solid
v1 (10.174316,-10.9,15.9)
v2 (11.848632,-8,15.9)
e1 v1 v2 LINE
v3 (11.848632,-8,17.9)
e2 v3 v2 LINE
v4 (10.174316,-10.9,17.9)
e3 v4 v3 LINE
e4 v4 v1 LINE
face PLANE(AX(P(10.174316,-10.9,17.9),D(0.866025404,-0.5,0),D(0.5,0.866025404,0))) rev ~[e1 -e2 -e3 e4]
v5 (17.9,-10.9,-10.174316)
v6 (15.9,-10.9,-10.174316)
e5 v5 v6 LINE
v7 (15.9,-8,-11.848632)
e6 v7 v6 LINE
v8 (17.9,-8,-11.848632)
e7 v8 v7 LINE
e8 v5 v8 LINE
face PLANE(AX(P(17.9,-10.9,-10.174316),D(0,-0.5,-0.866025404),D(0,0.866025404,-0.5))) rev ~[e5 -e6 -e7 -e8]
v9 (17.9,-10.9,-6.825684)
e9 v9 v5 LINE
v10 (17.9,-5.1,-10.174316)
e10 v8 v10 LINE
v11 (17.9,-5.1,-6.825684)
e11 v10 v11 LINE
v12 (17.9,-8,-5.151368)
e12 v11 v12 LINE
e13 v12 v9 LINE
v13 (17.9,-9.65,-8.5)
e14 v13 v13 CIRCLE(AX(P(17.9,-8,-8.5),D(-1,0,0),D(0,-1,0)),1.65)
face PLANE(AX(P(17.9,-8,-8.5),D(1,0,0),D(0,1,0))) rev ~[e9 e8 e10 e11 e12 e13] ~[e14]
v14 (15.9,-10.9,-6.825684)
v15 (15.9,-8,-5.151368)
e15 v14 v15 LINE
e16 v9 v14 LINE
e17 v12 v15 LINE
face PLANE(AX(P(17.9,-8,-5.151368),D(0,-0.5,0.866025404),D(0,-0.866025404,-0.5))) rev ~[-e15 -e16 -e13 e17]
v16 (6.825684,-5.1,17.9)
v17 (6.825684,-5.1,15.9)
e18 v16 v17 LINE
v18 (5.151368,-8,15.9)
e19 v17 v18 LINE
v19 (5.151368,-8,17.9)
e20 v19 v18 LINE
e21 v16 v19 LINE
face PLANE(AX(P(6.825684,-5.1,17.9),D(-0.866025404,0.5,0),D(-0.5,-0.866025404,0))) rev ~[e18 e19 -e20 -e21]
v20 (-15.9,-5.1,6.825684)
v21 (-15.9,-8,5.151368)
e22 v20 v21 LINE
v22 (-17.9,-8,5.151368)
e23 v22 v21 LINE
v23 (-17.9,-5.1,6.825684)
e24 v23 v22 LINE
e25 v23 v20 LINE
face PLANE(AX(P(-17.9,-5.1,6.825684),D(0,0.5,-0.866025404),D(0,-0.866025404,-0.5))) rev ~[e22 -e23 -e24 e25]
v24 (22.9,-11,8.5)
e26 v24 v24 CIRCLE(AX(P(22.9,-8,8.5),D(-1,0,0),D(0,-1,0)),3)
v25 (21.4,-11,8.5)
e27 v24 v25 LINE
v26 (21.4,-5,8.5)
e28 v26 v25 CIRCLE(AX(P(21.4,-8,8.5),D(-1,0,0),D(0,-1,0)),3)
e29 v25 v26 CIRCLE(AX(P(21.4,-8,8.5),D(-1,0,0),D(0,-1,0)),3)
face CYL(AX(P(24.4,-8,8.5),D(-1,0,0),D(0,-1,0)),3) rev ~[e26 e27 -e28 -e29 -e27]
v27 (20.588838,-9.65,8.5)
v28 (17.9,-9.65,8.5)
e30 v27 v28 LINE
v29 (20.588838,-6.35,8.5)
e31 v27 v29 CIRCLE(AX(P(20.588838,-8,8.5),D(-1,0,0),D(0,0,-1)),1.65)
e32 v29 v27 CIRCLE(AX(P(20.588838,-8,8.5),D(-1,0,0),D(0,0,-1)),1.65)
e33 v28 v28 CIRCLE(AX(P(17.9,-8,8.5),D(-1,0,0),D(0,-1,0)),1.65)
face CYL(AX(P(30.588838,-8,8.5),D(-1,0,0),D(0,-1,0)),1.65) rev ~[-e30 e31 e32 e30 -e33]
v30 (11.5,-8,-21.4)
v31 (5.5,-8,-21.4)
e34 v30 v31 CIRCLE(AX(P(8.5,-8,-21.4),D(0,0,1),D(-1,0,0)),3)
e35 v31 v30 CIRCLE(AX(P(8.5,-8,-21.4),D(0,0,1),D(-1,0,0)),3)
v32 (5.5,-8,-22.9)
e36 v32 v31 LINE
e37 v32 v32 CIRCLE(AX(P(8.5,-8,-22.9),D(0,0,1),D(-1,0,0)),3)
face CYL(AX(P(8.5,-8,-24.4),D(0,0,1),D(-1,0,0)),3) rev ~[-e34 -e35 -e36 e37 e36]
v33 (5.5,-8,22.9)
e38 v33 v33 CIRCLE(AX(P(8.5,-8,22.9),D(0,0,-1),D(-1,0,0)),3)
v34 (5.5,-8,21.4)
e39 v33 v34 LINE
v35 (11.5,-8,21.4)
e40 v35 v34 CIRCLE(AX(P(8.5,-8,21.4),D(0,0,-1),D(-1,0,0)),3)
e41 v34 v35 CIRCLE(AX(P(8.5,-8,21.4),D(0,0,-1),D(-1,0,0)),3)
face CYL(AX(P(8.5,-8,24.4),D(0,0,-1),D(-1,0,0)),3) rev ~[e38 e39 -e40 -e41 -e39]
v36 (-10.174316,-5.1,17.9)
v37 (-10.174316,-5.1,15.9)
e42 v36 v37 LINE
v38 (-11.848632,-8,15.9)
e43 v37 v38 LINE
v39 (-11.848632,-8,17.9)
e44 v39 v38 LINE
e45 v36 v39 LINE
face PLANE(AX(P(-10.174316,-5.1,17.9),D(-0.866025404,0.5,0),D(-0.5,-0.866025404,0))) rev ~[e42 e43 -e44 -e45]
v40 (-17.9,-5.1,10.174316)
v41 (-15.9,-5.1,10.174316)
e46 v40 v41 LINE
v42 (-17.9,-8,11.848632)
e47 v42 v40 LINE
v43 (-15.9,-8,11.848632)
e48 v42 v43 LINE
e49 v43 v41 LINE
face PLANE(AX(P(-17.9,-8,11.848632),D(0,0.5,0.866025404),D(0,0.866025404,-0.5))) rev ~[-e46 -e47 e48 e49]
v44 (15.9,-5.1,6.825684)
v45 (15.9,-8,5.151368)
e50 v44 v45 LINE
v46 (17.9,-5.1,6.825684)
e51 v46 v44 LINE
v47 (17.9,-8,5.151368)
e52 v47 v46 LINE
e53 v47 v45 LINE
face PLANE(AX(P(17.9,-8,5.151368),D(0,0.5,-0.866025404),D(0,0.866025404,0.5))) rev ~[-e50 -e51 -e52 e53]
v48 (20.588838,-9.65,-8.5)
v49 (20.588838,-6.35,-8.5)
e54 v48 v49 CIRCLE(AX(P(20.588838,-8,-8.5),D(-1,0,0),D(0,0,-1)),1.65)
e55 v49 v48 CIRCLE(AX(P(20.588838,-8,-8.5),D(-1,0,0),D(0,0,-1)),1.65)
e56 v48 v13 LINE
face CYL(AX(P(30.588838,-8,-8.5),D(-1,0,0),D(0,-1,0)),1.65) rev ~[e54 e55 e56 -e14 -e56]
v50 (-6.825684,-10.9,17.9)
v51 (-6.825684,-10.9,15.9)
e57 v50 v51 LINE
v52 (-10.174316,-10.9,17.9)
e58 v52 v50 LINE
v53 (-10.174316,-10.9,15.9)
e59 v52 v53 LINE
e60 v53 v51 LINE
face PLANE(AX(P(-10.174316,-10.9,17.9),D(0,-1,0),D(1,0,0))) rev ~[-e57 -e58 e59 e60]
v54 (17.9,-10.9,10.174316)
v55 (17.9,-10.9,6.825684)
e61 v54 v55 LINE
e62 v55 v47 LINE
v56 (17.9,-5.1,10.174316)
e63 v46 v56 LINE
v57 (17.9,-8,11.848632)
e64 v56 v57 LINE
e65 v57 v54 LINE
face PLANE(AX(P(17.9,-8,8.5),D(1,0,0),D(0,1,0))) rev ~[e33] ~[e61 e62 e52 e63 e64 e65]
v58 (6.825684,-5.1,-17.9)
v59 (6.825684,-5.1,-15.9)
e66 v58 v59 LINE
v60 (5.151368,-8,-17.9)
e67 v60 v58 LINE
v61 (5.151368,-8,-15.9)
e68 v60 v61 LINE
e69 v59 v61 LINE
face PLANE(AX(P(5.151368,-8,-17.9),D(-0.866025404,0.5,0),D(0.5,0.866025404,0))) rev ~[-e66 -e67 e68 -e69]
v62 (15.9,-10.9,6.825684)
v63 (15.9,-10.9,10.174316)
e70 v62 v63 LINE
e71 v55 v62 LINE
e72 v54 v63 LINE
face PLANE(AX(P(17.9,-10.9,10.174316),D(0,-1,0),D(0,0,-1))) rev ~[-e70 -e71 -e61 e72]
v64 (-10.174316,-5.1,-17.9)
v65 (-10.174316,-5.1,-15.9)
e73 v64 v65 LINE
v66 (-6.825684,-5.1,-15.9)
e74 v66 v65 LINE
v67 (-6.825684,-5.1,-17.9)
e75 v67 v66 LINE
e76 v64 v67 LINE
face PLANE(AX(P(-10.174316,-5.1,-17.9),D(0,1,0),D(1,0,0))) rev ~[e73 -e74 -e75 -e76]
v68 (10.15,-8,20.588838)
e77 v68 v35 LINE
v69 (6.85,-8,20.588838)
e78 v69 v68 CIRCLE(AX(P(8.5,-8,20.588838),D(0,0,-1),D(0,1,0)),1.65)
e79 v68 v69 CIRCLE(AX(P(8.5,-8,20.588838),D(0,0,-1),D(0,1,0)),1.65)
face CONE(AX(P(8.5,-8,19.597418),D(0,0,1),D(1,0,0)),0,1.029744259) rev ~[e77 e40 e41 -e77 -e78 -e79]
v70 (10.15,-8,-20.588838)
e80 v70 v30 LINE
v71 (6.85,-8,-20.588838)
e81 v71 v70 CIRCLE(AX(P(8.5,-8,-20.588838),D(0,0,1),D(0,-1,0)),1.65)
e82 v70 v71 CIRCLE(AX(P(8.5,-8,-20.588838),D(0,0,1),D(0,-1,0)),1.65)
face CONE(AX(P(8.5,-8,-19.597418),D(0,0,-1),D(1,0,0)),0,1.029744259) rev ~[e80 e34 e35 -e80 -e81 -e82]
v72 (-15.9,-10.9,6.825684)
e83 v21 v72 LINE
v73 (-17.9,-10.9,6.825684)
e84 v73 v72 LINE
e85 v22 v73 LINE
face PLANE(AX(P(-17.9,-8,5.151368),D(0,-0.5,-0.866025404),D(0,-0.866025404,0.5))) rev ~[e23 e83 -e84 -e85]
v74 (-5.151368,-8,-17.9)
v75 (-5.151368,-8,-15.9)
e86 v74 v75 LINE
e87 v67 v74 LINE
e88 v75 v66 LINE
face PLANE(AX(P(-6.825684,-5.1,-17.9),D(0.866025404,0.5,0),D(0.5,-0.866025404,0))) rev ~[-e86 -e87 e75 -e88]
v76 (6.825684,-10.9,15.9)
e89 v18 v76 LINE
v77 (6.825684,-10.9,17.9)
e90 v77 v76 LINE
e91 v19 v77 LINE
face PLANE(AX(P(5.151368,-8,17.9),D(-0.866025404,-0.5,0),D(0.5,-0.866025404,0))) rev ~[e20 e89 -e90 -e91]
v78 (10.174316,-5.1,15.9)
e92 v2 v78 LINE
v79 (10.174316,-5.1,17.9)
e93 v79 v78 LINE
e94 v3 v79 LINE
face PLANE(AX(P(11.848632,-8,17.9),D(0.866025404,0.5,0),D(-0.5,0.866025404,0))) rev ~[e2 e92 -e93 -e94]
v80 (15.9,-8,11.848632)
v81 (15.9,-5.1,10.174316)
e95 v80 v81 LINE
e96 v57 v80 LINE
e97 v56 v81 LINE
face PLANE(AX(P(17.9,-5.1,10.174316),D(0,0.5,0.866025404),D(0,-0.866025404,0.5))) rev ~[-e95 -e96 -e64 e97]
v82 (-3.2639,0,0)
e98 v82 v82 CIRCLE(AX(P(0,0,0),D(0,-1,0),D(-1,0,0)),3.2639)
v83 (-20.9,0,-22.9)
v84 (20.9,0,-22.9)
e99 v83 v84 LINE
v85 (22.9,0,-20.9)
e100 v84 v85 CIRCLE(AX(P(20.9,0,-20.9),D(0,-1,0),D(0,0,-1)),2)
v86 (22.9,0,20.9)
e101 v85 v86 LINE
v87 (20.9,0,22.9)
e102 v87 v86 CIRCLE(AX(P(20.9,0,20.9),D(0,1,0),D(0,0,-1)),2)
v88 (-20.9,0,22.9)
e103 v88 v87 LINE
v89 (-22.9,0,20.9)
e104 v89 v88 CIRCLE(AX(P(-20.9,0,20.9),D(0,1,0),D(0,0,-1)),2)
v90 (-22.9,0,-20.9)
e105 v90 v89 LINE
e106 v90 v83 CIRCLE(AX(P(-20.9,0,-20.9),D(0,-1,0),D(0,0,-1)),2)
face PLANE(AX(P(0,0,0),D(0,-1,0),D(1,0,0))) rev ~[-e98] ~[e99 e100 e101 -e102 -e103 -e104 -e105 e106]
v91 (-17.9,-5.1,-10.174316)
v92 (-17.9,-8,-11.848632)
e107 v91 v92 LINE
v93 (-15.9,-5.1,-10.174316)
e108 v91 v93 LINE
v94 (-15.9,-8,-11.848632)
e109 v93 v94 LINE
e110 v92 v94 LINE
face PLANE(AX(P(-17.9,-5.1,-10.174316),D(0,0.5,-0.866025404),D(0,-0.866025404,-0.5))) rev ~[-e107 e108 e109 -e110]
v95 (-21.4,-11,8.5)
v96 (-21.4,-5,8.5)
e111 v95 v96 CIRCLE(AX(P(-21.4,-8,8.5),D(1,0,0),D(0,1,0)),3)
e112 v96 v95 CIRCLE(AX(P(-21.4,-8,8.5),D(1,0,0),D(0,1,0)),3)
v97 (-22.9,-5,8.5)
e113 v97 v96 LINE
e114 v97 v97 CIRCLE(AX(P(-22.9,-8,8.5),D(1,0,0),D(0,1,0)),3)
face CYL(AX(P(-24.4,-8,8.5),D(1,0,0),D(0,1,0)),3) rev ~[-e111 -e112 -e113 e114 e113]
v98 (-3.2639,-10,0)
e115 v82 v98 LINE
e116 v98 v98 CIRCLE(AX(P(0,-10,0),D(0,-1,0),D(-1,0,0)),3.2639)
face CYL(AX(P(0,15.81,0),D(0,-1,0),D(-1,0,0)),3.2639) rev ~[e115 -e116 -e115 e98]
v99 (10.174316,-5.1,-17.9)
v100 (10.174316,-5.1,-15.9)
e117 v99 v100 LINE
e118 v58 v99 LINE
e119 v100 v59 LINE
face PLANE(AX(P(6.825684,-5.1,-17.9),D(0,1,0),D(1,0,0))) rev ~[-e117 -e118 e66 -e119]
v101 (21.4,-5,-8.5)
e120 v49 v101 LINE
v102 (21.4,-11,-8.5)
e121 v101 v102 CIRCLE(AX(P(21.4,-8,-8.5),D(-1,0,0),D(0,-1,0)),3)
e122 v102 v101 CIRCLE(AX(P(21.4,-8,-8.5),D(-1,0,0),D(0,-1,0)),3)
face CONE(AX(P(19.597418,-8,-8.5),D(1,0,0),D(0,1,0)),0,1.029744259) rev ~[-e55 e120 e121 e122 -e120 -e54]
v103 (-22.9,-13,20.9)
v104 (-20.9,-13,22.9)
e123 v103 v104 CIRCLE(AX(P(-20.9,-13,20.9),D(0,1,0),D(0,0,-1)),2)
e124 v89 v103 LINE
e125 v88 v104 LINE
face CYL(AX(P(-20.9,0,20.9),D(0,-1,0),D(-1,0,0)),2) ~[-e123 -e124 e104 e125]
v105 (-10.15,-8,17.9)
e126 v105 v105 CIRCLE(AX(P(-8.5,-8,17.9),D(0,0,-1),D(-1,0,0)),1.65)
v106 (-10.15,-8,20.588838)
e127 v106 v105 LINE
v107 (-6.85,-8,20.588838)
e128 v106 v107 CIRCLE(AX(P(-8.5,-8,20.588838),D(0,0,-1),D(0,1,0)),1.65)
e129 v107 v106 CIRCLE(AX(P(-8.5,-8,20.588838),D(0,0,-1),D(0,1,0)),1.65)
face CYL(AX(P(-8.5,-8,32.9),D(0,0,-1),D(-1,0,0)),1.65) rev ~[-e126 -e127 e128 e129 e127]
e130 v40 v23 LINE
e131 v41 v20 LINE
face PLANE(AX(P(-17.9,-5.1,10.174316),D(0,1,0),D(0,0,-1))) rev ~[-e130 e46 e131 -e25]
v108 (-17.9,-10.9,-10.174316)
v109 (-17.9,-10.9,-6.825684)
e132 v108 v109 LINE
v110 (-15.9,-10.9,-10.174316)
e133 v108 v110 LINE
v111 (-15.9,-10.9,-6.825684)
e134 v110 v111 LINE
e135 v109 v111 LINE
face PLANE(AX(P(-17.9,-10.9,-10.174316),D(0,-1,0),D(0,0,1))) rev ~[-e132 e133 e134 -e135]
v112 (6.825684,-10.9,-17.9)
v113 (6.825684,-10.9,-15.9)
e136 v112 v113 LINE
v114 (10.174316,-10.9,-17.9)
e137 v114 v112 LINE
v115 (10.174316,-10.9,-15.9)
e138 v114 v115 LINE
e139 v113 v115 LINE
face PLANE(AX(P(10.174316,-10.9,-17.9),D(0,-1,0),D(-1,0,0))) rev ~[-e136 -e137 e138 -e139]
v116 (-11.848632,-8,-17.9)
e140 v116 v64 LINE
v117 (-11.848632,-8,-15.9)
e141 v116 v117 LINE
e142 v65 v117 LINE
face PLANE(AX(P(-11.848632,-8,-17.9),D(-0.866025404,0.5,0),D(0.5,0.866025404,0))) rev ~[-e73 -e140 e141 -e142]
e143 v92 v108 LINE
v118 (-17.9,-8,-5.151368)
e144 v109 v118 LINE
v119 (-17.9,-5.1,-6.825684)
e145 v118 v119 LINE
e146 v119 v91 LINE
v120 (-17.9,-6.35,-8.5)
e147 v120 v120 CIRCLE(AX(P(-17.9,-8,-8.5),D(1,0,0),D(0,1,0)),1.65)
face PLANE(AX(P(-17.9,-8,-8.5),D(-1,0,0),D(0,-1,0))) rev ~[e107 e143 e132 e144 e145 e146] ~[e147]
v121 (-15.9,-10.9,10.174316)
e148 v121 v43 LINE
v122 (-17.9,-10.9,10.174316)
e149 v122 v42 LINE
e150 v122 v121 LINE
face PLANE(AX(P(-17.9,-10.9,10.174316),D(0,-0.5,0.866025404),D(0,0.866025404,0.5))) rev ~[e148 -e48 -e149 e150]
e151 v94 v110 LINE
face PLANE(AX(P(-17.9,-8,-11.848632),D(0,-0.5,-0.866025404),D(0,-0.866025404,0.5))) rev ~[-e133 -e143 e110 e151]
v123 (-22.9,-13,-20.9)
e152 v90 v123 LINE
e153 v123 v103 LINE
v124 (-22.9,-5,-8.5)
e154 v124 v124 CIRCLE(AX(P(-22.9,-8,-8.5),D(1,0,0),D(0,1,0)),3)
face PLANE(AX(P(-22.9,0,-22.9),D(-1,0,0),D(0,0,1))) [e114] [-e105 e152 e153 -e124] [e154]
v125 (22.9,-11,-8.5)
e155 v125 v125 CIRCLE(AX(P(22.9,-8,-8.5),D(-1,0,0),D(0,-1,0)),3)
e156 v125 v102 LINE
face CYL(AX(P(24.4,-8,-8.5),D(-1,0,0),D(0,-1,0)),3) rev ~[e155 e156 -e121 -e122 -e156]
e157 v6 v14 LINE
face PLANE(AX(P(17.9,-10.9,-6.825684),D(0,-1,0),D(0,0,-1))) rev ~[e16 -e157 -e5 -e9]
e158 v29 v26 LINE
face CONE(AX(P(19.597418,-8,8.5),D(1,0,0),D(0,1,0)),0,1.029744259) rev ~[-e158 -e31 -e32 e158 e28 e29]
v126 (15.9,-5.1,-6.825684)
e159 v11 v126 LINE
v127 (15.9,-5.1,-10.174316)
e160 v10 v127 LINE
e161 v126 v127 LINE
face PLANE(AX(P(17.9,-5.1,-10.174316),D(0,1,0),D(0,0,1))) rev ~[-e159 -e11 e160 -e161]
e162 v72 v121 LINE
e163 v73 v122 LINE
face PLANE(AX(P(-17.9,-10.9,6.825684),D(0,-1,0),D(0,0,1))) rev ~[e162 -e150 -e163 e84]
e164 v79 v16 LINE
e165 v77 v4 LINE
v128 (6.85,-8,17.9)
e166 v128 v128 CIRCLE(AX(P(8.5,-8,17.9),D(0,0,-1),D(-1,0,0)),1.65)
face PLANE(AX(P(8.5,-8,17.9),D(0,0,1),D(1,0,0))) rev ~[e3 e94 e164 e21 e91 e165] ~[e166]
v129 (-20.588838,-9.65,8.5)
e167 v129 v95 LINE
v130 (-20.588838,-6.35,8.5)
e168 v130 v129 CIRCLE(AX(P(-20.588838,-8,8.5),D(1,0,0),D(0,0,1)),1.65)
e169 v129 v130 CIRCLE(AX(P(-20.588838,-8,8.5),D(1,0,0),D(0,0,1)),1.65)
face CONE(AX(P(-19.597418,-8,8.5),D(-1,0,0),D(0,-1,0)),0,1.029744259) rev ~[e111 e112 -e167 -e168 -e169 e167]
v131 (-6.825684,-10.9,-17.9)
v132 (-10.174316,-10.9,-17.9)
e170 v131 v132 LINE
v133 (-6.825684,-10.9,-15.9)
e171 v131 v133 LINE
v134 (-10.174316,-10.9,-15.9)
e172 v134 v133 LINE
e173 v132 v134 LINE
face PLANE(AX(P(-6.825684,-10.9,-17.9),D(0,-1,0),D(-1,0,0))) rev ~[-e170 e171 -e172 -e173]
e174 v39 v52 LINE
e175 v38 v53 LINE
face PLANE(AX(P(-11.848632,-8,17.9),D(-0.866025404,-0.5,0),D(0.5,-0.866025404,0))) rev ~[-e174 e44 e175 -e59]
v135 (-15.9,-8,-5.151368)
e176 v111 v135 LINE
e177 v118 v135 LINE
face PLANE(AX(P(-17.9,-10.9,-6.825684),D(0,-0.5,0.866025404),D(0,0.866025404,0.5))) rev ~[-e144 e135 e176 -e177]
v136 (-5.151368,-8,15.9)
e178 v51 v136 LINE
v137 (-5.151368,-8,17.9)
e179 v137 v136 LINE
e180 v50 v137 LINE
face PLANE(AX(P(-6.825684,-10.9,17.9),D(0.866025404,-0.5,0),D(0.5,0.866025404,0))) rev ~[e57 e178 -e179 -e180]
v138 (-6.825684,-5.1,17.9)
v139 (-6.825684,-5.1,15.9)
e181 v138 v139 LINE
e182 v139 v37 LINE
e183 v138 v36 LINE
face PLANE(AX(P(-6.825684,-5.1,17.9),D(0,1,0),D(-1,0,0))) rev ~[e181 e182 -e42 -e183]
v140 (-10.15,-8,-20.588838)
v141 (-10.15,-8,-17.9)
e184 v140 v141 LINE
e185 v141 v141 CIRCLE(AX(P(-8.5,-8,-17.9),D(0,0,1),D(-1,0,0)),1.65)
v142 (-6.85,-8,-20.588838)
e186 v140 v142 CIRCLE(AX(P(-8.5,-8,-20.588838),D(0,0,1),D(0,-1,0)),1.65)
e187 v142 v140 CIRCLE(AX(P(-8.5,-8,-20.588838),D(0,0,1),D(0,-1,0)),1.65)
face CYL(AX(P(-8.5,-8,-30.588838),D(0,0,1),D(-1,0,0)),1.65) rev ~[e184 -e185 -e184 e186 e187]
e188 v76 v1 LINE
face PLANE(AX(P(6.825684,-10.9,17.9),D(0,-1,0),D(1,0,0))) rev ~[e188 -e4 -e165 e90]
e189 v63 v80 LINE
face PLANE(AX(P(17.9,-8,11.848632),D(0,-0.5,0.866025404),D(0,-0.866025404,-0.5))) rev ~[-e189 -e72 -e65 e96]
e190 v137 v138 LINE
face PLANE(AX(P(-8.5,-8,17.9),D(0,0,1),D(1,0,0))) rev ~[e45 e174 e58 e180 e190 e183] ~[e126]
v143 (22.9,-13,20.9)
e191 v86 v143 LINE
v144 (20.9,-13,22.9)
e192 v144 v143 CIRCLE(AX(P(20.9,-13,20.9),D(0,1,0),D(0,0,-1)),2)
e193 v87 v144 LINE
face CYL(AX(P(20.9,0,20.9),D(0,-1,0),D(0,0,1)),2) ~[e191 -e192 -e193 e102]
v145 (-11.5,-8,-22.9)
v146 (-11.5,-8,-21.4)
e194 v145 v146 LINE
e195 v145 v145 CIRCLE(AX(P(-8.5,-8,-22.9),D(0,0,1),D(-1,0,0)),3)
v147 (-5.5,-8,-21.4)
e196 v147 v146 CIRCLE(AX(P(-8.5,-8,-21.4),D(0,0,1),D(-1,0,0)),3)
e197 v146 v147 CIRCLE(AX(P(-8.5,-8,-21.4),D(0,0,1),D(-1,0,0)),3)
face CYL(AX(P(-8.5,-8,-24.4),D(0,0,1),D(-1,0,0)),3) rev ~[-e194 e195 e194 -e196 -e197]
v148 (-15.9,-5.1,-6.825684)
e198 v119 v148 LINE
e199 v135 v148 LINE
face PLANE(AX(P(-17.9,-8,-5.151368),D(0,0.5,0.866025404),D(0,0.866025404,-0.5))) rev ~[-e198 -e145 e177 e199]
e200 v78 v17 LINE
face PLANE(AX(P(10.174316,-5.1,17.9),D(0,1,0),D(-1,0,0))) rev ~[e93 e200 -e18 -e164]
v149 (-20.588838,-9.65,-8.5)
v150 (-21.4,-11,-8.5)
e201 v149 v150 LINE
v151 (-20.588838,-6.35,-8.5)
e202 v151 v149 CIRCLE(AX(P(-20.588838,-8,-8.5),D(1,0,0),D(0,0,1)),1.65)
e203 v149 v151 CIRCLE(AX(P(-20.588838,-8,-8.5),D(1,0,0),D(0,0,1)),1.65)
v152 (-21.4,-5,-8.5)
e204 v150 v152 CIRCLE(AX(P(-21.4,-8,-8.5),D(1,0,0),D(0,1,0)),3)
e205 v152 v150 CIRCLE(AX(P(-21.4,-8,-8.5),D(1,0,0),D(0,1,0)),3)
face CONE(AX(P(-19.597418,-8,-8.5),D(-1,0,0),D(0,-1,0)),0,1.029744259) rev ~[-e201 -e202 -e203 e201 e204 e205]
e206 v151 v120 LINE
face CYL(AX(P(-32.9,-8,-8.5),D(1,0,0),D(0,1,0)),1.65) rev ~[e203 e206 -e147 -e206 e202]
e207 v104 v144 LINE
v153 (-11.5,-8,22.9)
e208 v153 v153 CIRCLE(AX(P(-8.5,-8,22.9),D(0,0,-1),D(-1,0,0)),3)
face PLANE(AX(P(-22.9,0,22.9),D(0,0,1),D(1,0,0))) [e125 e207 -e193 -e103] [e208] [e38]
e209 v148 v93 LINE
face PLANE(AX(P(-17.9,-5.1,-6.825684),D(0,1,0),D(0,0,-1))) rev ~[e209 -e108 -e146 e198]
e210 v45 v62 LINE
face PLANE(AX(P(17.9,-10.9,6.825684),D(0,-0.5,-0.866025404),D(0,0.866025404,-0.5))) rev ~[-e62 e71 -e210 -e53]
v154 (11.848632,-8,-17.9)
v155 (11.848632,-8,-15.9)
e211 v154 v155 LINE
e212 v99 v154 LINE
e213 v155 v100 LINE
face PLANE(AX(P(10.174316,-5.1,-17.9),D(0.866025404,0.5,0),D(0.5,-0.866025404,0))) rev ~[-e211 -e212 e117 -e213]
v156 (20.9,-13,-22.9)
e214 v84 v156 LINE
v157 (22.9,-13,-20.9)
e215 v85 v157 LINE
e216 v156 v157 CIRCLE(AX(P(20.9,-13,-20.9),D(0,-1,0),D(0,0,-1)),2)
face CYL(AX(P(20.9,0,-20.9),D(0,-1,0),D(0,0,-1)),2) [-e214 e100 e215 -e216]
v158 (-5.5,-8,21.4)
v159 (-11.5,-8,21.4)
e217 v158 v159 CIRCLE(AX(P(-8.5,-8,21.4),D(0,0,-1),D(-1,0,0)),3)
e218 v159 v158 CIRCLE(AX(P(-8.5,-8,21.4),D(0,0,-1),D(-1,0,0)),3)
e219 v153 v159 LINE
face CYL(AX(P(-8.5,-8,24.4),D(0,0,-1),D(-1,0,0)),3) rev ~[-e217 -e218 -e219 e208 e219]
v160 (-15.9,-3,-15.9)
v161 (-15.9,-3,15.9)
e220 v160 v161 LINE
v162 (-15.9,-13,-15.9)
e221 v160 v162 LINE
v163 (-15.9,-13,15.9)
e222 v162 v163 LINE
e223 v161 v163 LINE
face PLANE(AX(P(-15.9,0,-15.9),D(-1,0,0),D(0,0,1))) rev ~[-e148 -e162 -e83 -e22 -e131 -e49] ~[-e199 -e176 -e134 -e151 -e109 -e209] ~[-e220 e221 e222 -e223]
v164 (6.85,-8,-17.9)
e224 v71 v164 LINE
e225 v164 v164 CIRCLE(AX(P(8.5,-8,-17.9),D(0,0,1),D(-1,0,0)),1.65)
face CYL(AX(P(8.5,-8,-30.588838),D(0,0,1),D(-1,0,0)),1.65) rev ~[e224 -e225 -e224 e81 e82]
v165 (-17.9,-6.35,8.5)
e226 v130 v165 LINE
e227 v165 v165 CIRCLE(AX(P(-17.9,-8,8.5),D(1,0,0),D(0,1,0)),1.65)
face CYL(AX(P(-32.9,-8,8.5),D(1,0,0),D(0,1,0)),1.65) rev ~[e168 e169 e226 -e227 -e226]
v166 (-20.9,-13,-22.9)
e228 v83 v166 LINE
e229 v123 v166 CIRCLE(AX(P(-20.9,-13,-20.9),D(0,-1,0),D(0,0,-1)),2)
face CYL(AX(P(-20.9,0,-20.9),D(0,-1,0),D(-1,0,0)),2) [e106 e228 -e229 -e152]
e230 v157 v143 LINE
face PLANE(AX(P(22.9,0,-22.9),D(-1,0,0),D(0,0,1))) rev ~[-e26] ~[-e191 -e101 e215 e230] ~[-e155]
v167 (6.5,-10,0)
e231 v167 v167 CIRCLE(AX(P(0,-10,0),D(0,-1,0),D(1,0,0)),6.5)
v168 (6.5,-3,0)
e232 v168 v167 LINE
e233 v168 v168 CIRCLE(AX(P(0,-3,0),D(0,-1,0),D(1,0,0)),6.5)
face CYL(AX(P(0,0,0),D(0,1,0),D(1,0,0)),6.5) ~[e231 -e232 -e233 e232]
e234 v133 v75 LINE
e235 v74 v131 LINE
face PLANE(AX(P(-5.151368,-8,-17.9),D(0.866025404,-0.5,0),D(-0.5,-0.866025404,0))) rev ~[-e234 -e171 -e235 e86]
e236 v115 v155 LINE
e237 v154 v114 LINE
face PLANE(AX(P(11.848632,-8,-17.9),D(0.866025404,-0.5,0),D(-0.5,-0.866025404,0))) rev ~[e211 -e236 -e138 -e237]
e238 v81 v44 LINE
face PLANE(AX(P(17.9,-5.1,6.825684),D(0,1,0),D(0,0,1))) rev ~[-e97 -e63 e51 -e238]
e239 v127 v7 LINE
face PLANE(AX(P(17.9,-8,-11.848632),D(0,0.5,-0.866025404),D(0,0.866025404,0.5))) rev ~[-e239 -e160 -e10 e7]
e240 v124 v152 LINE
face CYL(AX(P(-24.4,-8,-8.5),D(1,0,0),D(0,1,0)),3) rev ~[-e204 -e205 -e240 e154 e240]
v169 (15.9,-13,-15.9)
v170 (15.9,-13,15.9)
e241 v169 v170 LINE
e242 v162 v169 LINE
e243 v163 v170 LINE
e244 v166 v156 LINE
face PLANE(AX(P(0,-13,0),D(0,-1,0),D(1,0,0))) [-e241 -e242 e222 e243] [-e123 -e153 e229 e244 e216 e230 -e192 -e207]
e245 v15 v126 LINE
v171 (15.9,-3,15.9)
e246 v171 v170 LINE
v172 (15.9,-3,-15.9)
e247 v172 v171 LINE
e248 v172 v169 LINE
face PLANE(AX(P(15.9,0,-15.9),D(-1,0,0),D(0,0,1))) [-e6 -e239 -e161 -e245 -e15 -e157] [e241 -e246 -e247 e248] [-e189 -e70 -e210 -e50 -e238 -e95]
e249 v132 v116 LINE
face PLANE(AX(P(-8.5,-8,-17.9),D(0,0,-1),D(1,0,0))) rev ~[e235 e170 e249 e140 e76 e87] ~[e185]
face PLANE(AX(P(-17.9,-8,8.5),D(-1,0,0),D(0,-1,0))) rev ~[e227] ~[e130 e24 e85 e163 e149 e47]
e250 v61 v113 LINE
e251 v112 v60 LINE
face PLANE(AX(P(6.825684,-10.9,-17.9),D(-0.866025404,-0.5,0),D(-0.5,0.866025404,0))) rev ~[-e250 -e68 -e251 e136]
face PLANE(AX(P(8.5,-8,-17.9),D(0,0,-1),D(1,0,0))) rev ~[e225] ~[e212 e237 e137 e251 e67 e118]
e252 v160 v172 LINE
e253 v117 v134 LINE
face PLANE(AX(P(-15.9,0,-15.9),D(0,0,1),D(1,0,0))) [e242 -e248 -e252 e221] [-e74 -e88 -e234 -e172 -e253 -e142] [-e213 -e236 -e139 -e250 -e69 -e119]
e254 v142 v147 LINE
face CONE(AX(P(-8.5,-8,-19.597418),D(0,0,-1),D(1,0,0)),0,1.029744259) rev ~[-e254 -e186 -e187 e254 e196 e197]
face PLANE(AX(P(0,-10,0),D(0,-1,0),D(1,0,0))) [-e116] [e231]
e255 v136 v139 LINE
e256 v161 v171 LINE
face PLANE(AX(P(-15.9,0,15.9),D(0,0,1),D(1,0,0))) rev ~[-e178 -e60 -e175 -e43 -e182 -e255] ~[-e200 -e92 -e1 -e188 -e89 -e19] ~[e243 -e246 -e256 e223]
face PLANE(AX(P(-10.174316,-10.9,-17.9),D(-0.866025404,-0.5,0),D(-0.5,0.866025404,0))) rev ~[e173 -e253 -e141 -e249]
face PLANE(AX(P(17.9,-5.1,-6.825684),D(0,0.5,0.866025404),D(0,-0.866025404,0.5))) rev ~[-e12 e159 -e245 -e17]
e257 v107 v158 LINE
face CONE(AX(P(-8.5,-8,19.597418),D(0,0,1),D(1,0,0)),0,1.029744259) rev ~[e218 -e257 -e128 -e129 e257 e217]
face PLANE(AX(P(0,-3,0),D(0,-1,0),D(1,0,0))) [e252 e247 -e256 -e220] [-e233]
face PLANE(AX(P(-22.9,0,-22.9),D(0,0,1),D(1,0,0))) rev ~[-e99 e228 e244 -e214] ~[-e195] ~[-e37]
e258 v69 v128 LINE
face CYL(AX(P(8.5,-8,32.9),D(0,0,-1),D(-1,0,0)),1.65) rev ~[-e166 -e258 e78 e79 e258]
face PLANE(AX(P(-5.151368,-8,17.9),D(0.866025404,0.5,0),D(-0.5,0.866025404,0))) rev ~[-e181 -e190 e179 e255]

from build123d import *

# Parameters (mm, degrees)
F0_W      = 31.8
F0_H      = 31.8
F0_R      = 6.5
F1_DEPTH  = 3
F2_DEPTH  = 10
F0_W_2    = 45.8
F0_H_2    = 45.8
F3_DEPTH  = 13
F5_START  = -5
F5_DEPTH  = 3
F6_D      = 6
F6_DEPTH  = 1.5
F6_TIP    = 1.8025818571
F7_D      = 3.3
F7_DEPTH  = 10
F7_START  = 2.3111618
F7_TIP    = 0.9914200214
F9_START  = -5
F9_DEPTH  = 3
F11_START = -5
F11_DEPTH = 3
F12_D     = 3.3
F12_DEPTH = 10
F12_TIP   = 0.9914200214
F13_D     = 6
F13_DEPTH = 1.5
F13_TIP   = 1.8025818571
F14_D     = 6
F14_DEPTH = 1.5
F14_TIP   = 1.8025818571
F15_D     = 3.3
F15_DEPTH = 10
F15_START = 2.3111618
F15_TIP   = 0.9914200214
F17_START = -5
F17_DEPTH = 3
F18_D     = 3.3
F18_DEPTH = 10
F18_TIP   = 0.9914200214
F19_D     = 6
F19_DEPTH = 1.5
F19_TIP   = 1.8025818571
F20_R     = 2
F21_D     = 6.5278
F21_DEPTH = 15.81
F21_TIP   = 1.9611489744


with BuildPart() as f1:
    # F0 (on Front) → F1 (new body)
    with BuildSketch(Plane.XZ):
        Rectangle(F0_W, F0_H)
        Circle(F0_R, mode=Mode.SUBTRACT)
    extrude(amount=F1_DEPTH)

    # F0 (on Front) → F2 (join)
    with BuildSketch(Plane.XZ):
        Circle(F0_R)
    extrude(amount=F2_DEPTH)

    # F0 (on Front) → F3 (join)
    with BuildSketch(Plane.XZ):
        Rectangle(F0_W_2, F0_H_2)
        Rectangle(F0_W, F0_H, mode=Mode.SUBTRACT)
    extrude(amount=F3_DEPTH)

    # F4 (on face) → F5 (cut)
    with BuildSketch(Plane(origin=(0, 0, -22.9), x_dir=(1, 0, 0), z_dir=(0, 0, -1)).offset(F5_START)):
        Polygon((-6.8256842194, 5.1), (-5.1513684387, 8), (-6.8256842194, 10.9), (-10.1743157806, 10.9), (-11.8486315613, 8), (-10.1743157806, 5.1), align=None)
        Polygon((10.1743157806, 5.1), (11.8486315613, 8), (10.1743157806, 10.9), (6.8256842194, 10.9), (5.1513684387, 8), (6.8256842194, 5.1), align=None)
    extrude(amount=-F5_DEPTH, mode=Mode.SUBTRACT)

    # F6
    with Locations(Plane(origin=(0, 0, -22.9), x_dir=(1, 0, 0), z_dir=(0, 0, -1))):
        with Locations((-8.5, 8), (8.5, 8)):
            Hole(F6_D / 2, depth=F6_DEPTH)
            with Locations((0, 0, -(F6_DEPTH + F6_TIP / 2))):  # 118° drill point
                Cone(0, F6_D / 2, F6_TIP, mode=Mode.SUBTRACT)

    # F7
    # its depths count from where the whole tool has entered the part; down to there all is cleared
    with Locations(Plane(origin=(0, 0, -22.9), x_dir=(1, 0, 0), z_dir=(0, 0, -1)).offset(-F7_START)):
        with Locations((-8.5, 8), (8.5, 8)):
            Hole(F7_D / 2, depth=F7_DEPTH)
            with Locations((0, 0, -(F7_DEPTH + F7_TIP / 2))):  # 118° drill point
                Cone(0, F7_D / 2, F7_TIP, mode=Mode.SUBTRACT)

    # F8 (on face) → F9 (cut)
    with BuildSketch(Plane.YZ.offset(22.9).offset(F9_START)):
        Polygon((-5.1, -6.8256842194), (-8, -5.1513684387), (-10.9, -6.8256842194), (-10.9, -10.1743157806), (-8, -11.8486315613), (-5.1, -10.1743157806), align=None)
        Polygon((-5.1, 10.1743157806), (-8, 11.8486315613), (-10.9, 10.1743157806), (-10.9, 6.8256842194), (-8, 5.1513684387), (-5.1, 6.8256842194), align=None)
    extrude(amount=-F9_DEPTH, mode=Mode.SUBTRACT)

    # F10 (on face) → F11 (cut)
    with BuildSketch(Plane.XY.offset(22.9).offset(F11_START)):
        Polygon((6.8256842194, -5.1), (5.1513684387, -8), (6.8256842194, -10.9), (10.1743157806, -10.9), (11.8486315613, -8), (10.1743157806, -5.1), align=None)
        Polygon((-6.8256842194, -5.1), (-10.1743157806, -5.1), (-11.8486315613, -8), (-10.1743157806, -10.9), (-6.8256842194, -10.9), (-5.1513684387, -8), align=None)
    extrude(amount=-F11_DEPTH, mode=Mode.SUBTRACT)

    # F12
    with Locations(Plane.XY.offset(22.9)):
        with Locations((8.5, -8), (-8.5, -8)):
            Hole(F12_D / 2, depth=F12_DEPTH)
            with Locations((0, 0, -(F12_DEPTH + F12_TIP / 2))):  # 118° drill point
                Cone(0, F12_D / 2, F12_TIP, mode=Mode.SUBTRACT)

    # F13
    with Locations(Plane.XY.offset(22.9)):
        with Locations((8.5, -8), (-8.5, -8)):
            Hole(F13_D / 2, depth=F13_DEPTH)
            with Locations((0, 0, -(F13_DEPTH + F13_TIP / 2))):  # 118° drill point
                Cone(0, F13_D / 2, F13_TIP, mode=Mode.SUBTRACT)

    # F14
    with Locations(Plane.YZ.offset(22.9)):
        with Locations((-8, -8.5), (-8, 8.5)):
            Hole(F14_D / 2, depth=F14_DEPTH)
            with Locations((0, 0, -(F14_DEPTH + F14_TIP / 2))):  # 118° drill point
                Cone(0, F14_D / 2, F14_TIP, mode=Mode.SUBTRACT)

    # F15
    # its depths count from where the whole tool has entered the part; down to there all is cleared
    with Locations(Plane.YZ.offset(22.9).offset(-F15_START)):
        with Locations((-8, -8.5), (-8, 8.5)):
            Hole(F15_D / 2, depth=F15_DEPTH)
            with Locations((0, 0, -(F15_DEPTH + F15_TIP / 2))):  # 118° drill point
                Cone(0, F15_D / 2, F15_TIP, mode=Mode.SUBTRACT)

    # F16 (on face) → F17 (cut)
    with BuildSketch(Plane(origin=(-22.9, 0, 0), x_dir=(0, -1, 0), z_dir=(-1, 0, 0)).offset(F17_START)):
        Polygon((5.1, 10.1743157806), (5.1, 6.8256842194), (8, 5.1513684387), (10.9, 6.8256842194), (10.9, 10.1743157806), (8, 11.8486315613), align=None)
        Polygon((5.1, -6.8256842194), (5.1, -10.1743157806), (8, -11.8486315613), (10.9, -10.1743157806), (10.9, -6.8256842194), (8, -5.1513684387), align=None)
    extrude(amount=-F17_DEPTH, mode=Mode.SUBTRACT)

    # F18
    with Locations(Plane(origin=(-22.9, 0, 0), x_dir=(0, -1, 0), z_dir=(-1, 0, 0))):
        with Locations((8, 8.5), (8, -8.5)):
            Hole(F18_D / 2, depth=F18_DEPTH)
            with Locations((0, 0, -(F18_DEPTH + F18_TIP / 2))):  # 118° drill point
                Cone(0, F18_D / 2, F18_TIP, mode=Mode.SUBTRACT)

    # F19
    with Locations(Plane(origin=(-22.9, 0, 0), x_dir=(0, -1, 0), z_dir=(-1, 0, 0))):
        with Locations((8, 8.5), (8, -8.5)):
            Hole(F19_D / 2, depth=F19_DEPTH)
            with Locations((0, 0, -(F19_DEPTH + F19_TIP / 2))):  # 118° drill point
                Cone(0, F19_D / 2, F19_TIP, mode=Mode.SUBTRACT)

    # F20
    f20_edges = [f1.edges().sort_by_distance(p)[0] for p in [
        (22.9, -6.5, 22.9),
        (22.9, -6.5, -22.9),
        (-22.9, -6.5, -22.9),
        (-22.9, -6.5, 22.9),
    ]]
    fillet(f20_edges, radius=F20_R)

    # F21
    with Locations(Plane(origin=(0, 0, 0), x_dir=(1, 0, 0), z_dir=(0, 1, 0))):
        with Locations((0, 0)):
            Hole(F21_D / 2, depth=F21_DEPTH)
            with Locations((0, 0, -(F21_DEPTH + F21_TIP / 2))):  # 118° drill point
                Cone(0, F21_D / 2, F21_TIP, mode=Mode.SUBTRACT)


solid = f1.part
